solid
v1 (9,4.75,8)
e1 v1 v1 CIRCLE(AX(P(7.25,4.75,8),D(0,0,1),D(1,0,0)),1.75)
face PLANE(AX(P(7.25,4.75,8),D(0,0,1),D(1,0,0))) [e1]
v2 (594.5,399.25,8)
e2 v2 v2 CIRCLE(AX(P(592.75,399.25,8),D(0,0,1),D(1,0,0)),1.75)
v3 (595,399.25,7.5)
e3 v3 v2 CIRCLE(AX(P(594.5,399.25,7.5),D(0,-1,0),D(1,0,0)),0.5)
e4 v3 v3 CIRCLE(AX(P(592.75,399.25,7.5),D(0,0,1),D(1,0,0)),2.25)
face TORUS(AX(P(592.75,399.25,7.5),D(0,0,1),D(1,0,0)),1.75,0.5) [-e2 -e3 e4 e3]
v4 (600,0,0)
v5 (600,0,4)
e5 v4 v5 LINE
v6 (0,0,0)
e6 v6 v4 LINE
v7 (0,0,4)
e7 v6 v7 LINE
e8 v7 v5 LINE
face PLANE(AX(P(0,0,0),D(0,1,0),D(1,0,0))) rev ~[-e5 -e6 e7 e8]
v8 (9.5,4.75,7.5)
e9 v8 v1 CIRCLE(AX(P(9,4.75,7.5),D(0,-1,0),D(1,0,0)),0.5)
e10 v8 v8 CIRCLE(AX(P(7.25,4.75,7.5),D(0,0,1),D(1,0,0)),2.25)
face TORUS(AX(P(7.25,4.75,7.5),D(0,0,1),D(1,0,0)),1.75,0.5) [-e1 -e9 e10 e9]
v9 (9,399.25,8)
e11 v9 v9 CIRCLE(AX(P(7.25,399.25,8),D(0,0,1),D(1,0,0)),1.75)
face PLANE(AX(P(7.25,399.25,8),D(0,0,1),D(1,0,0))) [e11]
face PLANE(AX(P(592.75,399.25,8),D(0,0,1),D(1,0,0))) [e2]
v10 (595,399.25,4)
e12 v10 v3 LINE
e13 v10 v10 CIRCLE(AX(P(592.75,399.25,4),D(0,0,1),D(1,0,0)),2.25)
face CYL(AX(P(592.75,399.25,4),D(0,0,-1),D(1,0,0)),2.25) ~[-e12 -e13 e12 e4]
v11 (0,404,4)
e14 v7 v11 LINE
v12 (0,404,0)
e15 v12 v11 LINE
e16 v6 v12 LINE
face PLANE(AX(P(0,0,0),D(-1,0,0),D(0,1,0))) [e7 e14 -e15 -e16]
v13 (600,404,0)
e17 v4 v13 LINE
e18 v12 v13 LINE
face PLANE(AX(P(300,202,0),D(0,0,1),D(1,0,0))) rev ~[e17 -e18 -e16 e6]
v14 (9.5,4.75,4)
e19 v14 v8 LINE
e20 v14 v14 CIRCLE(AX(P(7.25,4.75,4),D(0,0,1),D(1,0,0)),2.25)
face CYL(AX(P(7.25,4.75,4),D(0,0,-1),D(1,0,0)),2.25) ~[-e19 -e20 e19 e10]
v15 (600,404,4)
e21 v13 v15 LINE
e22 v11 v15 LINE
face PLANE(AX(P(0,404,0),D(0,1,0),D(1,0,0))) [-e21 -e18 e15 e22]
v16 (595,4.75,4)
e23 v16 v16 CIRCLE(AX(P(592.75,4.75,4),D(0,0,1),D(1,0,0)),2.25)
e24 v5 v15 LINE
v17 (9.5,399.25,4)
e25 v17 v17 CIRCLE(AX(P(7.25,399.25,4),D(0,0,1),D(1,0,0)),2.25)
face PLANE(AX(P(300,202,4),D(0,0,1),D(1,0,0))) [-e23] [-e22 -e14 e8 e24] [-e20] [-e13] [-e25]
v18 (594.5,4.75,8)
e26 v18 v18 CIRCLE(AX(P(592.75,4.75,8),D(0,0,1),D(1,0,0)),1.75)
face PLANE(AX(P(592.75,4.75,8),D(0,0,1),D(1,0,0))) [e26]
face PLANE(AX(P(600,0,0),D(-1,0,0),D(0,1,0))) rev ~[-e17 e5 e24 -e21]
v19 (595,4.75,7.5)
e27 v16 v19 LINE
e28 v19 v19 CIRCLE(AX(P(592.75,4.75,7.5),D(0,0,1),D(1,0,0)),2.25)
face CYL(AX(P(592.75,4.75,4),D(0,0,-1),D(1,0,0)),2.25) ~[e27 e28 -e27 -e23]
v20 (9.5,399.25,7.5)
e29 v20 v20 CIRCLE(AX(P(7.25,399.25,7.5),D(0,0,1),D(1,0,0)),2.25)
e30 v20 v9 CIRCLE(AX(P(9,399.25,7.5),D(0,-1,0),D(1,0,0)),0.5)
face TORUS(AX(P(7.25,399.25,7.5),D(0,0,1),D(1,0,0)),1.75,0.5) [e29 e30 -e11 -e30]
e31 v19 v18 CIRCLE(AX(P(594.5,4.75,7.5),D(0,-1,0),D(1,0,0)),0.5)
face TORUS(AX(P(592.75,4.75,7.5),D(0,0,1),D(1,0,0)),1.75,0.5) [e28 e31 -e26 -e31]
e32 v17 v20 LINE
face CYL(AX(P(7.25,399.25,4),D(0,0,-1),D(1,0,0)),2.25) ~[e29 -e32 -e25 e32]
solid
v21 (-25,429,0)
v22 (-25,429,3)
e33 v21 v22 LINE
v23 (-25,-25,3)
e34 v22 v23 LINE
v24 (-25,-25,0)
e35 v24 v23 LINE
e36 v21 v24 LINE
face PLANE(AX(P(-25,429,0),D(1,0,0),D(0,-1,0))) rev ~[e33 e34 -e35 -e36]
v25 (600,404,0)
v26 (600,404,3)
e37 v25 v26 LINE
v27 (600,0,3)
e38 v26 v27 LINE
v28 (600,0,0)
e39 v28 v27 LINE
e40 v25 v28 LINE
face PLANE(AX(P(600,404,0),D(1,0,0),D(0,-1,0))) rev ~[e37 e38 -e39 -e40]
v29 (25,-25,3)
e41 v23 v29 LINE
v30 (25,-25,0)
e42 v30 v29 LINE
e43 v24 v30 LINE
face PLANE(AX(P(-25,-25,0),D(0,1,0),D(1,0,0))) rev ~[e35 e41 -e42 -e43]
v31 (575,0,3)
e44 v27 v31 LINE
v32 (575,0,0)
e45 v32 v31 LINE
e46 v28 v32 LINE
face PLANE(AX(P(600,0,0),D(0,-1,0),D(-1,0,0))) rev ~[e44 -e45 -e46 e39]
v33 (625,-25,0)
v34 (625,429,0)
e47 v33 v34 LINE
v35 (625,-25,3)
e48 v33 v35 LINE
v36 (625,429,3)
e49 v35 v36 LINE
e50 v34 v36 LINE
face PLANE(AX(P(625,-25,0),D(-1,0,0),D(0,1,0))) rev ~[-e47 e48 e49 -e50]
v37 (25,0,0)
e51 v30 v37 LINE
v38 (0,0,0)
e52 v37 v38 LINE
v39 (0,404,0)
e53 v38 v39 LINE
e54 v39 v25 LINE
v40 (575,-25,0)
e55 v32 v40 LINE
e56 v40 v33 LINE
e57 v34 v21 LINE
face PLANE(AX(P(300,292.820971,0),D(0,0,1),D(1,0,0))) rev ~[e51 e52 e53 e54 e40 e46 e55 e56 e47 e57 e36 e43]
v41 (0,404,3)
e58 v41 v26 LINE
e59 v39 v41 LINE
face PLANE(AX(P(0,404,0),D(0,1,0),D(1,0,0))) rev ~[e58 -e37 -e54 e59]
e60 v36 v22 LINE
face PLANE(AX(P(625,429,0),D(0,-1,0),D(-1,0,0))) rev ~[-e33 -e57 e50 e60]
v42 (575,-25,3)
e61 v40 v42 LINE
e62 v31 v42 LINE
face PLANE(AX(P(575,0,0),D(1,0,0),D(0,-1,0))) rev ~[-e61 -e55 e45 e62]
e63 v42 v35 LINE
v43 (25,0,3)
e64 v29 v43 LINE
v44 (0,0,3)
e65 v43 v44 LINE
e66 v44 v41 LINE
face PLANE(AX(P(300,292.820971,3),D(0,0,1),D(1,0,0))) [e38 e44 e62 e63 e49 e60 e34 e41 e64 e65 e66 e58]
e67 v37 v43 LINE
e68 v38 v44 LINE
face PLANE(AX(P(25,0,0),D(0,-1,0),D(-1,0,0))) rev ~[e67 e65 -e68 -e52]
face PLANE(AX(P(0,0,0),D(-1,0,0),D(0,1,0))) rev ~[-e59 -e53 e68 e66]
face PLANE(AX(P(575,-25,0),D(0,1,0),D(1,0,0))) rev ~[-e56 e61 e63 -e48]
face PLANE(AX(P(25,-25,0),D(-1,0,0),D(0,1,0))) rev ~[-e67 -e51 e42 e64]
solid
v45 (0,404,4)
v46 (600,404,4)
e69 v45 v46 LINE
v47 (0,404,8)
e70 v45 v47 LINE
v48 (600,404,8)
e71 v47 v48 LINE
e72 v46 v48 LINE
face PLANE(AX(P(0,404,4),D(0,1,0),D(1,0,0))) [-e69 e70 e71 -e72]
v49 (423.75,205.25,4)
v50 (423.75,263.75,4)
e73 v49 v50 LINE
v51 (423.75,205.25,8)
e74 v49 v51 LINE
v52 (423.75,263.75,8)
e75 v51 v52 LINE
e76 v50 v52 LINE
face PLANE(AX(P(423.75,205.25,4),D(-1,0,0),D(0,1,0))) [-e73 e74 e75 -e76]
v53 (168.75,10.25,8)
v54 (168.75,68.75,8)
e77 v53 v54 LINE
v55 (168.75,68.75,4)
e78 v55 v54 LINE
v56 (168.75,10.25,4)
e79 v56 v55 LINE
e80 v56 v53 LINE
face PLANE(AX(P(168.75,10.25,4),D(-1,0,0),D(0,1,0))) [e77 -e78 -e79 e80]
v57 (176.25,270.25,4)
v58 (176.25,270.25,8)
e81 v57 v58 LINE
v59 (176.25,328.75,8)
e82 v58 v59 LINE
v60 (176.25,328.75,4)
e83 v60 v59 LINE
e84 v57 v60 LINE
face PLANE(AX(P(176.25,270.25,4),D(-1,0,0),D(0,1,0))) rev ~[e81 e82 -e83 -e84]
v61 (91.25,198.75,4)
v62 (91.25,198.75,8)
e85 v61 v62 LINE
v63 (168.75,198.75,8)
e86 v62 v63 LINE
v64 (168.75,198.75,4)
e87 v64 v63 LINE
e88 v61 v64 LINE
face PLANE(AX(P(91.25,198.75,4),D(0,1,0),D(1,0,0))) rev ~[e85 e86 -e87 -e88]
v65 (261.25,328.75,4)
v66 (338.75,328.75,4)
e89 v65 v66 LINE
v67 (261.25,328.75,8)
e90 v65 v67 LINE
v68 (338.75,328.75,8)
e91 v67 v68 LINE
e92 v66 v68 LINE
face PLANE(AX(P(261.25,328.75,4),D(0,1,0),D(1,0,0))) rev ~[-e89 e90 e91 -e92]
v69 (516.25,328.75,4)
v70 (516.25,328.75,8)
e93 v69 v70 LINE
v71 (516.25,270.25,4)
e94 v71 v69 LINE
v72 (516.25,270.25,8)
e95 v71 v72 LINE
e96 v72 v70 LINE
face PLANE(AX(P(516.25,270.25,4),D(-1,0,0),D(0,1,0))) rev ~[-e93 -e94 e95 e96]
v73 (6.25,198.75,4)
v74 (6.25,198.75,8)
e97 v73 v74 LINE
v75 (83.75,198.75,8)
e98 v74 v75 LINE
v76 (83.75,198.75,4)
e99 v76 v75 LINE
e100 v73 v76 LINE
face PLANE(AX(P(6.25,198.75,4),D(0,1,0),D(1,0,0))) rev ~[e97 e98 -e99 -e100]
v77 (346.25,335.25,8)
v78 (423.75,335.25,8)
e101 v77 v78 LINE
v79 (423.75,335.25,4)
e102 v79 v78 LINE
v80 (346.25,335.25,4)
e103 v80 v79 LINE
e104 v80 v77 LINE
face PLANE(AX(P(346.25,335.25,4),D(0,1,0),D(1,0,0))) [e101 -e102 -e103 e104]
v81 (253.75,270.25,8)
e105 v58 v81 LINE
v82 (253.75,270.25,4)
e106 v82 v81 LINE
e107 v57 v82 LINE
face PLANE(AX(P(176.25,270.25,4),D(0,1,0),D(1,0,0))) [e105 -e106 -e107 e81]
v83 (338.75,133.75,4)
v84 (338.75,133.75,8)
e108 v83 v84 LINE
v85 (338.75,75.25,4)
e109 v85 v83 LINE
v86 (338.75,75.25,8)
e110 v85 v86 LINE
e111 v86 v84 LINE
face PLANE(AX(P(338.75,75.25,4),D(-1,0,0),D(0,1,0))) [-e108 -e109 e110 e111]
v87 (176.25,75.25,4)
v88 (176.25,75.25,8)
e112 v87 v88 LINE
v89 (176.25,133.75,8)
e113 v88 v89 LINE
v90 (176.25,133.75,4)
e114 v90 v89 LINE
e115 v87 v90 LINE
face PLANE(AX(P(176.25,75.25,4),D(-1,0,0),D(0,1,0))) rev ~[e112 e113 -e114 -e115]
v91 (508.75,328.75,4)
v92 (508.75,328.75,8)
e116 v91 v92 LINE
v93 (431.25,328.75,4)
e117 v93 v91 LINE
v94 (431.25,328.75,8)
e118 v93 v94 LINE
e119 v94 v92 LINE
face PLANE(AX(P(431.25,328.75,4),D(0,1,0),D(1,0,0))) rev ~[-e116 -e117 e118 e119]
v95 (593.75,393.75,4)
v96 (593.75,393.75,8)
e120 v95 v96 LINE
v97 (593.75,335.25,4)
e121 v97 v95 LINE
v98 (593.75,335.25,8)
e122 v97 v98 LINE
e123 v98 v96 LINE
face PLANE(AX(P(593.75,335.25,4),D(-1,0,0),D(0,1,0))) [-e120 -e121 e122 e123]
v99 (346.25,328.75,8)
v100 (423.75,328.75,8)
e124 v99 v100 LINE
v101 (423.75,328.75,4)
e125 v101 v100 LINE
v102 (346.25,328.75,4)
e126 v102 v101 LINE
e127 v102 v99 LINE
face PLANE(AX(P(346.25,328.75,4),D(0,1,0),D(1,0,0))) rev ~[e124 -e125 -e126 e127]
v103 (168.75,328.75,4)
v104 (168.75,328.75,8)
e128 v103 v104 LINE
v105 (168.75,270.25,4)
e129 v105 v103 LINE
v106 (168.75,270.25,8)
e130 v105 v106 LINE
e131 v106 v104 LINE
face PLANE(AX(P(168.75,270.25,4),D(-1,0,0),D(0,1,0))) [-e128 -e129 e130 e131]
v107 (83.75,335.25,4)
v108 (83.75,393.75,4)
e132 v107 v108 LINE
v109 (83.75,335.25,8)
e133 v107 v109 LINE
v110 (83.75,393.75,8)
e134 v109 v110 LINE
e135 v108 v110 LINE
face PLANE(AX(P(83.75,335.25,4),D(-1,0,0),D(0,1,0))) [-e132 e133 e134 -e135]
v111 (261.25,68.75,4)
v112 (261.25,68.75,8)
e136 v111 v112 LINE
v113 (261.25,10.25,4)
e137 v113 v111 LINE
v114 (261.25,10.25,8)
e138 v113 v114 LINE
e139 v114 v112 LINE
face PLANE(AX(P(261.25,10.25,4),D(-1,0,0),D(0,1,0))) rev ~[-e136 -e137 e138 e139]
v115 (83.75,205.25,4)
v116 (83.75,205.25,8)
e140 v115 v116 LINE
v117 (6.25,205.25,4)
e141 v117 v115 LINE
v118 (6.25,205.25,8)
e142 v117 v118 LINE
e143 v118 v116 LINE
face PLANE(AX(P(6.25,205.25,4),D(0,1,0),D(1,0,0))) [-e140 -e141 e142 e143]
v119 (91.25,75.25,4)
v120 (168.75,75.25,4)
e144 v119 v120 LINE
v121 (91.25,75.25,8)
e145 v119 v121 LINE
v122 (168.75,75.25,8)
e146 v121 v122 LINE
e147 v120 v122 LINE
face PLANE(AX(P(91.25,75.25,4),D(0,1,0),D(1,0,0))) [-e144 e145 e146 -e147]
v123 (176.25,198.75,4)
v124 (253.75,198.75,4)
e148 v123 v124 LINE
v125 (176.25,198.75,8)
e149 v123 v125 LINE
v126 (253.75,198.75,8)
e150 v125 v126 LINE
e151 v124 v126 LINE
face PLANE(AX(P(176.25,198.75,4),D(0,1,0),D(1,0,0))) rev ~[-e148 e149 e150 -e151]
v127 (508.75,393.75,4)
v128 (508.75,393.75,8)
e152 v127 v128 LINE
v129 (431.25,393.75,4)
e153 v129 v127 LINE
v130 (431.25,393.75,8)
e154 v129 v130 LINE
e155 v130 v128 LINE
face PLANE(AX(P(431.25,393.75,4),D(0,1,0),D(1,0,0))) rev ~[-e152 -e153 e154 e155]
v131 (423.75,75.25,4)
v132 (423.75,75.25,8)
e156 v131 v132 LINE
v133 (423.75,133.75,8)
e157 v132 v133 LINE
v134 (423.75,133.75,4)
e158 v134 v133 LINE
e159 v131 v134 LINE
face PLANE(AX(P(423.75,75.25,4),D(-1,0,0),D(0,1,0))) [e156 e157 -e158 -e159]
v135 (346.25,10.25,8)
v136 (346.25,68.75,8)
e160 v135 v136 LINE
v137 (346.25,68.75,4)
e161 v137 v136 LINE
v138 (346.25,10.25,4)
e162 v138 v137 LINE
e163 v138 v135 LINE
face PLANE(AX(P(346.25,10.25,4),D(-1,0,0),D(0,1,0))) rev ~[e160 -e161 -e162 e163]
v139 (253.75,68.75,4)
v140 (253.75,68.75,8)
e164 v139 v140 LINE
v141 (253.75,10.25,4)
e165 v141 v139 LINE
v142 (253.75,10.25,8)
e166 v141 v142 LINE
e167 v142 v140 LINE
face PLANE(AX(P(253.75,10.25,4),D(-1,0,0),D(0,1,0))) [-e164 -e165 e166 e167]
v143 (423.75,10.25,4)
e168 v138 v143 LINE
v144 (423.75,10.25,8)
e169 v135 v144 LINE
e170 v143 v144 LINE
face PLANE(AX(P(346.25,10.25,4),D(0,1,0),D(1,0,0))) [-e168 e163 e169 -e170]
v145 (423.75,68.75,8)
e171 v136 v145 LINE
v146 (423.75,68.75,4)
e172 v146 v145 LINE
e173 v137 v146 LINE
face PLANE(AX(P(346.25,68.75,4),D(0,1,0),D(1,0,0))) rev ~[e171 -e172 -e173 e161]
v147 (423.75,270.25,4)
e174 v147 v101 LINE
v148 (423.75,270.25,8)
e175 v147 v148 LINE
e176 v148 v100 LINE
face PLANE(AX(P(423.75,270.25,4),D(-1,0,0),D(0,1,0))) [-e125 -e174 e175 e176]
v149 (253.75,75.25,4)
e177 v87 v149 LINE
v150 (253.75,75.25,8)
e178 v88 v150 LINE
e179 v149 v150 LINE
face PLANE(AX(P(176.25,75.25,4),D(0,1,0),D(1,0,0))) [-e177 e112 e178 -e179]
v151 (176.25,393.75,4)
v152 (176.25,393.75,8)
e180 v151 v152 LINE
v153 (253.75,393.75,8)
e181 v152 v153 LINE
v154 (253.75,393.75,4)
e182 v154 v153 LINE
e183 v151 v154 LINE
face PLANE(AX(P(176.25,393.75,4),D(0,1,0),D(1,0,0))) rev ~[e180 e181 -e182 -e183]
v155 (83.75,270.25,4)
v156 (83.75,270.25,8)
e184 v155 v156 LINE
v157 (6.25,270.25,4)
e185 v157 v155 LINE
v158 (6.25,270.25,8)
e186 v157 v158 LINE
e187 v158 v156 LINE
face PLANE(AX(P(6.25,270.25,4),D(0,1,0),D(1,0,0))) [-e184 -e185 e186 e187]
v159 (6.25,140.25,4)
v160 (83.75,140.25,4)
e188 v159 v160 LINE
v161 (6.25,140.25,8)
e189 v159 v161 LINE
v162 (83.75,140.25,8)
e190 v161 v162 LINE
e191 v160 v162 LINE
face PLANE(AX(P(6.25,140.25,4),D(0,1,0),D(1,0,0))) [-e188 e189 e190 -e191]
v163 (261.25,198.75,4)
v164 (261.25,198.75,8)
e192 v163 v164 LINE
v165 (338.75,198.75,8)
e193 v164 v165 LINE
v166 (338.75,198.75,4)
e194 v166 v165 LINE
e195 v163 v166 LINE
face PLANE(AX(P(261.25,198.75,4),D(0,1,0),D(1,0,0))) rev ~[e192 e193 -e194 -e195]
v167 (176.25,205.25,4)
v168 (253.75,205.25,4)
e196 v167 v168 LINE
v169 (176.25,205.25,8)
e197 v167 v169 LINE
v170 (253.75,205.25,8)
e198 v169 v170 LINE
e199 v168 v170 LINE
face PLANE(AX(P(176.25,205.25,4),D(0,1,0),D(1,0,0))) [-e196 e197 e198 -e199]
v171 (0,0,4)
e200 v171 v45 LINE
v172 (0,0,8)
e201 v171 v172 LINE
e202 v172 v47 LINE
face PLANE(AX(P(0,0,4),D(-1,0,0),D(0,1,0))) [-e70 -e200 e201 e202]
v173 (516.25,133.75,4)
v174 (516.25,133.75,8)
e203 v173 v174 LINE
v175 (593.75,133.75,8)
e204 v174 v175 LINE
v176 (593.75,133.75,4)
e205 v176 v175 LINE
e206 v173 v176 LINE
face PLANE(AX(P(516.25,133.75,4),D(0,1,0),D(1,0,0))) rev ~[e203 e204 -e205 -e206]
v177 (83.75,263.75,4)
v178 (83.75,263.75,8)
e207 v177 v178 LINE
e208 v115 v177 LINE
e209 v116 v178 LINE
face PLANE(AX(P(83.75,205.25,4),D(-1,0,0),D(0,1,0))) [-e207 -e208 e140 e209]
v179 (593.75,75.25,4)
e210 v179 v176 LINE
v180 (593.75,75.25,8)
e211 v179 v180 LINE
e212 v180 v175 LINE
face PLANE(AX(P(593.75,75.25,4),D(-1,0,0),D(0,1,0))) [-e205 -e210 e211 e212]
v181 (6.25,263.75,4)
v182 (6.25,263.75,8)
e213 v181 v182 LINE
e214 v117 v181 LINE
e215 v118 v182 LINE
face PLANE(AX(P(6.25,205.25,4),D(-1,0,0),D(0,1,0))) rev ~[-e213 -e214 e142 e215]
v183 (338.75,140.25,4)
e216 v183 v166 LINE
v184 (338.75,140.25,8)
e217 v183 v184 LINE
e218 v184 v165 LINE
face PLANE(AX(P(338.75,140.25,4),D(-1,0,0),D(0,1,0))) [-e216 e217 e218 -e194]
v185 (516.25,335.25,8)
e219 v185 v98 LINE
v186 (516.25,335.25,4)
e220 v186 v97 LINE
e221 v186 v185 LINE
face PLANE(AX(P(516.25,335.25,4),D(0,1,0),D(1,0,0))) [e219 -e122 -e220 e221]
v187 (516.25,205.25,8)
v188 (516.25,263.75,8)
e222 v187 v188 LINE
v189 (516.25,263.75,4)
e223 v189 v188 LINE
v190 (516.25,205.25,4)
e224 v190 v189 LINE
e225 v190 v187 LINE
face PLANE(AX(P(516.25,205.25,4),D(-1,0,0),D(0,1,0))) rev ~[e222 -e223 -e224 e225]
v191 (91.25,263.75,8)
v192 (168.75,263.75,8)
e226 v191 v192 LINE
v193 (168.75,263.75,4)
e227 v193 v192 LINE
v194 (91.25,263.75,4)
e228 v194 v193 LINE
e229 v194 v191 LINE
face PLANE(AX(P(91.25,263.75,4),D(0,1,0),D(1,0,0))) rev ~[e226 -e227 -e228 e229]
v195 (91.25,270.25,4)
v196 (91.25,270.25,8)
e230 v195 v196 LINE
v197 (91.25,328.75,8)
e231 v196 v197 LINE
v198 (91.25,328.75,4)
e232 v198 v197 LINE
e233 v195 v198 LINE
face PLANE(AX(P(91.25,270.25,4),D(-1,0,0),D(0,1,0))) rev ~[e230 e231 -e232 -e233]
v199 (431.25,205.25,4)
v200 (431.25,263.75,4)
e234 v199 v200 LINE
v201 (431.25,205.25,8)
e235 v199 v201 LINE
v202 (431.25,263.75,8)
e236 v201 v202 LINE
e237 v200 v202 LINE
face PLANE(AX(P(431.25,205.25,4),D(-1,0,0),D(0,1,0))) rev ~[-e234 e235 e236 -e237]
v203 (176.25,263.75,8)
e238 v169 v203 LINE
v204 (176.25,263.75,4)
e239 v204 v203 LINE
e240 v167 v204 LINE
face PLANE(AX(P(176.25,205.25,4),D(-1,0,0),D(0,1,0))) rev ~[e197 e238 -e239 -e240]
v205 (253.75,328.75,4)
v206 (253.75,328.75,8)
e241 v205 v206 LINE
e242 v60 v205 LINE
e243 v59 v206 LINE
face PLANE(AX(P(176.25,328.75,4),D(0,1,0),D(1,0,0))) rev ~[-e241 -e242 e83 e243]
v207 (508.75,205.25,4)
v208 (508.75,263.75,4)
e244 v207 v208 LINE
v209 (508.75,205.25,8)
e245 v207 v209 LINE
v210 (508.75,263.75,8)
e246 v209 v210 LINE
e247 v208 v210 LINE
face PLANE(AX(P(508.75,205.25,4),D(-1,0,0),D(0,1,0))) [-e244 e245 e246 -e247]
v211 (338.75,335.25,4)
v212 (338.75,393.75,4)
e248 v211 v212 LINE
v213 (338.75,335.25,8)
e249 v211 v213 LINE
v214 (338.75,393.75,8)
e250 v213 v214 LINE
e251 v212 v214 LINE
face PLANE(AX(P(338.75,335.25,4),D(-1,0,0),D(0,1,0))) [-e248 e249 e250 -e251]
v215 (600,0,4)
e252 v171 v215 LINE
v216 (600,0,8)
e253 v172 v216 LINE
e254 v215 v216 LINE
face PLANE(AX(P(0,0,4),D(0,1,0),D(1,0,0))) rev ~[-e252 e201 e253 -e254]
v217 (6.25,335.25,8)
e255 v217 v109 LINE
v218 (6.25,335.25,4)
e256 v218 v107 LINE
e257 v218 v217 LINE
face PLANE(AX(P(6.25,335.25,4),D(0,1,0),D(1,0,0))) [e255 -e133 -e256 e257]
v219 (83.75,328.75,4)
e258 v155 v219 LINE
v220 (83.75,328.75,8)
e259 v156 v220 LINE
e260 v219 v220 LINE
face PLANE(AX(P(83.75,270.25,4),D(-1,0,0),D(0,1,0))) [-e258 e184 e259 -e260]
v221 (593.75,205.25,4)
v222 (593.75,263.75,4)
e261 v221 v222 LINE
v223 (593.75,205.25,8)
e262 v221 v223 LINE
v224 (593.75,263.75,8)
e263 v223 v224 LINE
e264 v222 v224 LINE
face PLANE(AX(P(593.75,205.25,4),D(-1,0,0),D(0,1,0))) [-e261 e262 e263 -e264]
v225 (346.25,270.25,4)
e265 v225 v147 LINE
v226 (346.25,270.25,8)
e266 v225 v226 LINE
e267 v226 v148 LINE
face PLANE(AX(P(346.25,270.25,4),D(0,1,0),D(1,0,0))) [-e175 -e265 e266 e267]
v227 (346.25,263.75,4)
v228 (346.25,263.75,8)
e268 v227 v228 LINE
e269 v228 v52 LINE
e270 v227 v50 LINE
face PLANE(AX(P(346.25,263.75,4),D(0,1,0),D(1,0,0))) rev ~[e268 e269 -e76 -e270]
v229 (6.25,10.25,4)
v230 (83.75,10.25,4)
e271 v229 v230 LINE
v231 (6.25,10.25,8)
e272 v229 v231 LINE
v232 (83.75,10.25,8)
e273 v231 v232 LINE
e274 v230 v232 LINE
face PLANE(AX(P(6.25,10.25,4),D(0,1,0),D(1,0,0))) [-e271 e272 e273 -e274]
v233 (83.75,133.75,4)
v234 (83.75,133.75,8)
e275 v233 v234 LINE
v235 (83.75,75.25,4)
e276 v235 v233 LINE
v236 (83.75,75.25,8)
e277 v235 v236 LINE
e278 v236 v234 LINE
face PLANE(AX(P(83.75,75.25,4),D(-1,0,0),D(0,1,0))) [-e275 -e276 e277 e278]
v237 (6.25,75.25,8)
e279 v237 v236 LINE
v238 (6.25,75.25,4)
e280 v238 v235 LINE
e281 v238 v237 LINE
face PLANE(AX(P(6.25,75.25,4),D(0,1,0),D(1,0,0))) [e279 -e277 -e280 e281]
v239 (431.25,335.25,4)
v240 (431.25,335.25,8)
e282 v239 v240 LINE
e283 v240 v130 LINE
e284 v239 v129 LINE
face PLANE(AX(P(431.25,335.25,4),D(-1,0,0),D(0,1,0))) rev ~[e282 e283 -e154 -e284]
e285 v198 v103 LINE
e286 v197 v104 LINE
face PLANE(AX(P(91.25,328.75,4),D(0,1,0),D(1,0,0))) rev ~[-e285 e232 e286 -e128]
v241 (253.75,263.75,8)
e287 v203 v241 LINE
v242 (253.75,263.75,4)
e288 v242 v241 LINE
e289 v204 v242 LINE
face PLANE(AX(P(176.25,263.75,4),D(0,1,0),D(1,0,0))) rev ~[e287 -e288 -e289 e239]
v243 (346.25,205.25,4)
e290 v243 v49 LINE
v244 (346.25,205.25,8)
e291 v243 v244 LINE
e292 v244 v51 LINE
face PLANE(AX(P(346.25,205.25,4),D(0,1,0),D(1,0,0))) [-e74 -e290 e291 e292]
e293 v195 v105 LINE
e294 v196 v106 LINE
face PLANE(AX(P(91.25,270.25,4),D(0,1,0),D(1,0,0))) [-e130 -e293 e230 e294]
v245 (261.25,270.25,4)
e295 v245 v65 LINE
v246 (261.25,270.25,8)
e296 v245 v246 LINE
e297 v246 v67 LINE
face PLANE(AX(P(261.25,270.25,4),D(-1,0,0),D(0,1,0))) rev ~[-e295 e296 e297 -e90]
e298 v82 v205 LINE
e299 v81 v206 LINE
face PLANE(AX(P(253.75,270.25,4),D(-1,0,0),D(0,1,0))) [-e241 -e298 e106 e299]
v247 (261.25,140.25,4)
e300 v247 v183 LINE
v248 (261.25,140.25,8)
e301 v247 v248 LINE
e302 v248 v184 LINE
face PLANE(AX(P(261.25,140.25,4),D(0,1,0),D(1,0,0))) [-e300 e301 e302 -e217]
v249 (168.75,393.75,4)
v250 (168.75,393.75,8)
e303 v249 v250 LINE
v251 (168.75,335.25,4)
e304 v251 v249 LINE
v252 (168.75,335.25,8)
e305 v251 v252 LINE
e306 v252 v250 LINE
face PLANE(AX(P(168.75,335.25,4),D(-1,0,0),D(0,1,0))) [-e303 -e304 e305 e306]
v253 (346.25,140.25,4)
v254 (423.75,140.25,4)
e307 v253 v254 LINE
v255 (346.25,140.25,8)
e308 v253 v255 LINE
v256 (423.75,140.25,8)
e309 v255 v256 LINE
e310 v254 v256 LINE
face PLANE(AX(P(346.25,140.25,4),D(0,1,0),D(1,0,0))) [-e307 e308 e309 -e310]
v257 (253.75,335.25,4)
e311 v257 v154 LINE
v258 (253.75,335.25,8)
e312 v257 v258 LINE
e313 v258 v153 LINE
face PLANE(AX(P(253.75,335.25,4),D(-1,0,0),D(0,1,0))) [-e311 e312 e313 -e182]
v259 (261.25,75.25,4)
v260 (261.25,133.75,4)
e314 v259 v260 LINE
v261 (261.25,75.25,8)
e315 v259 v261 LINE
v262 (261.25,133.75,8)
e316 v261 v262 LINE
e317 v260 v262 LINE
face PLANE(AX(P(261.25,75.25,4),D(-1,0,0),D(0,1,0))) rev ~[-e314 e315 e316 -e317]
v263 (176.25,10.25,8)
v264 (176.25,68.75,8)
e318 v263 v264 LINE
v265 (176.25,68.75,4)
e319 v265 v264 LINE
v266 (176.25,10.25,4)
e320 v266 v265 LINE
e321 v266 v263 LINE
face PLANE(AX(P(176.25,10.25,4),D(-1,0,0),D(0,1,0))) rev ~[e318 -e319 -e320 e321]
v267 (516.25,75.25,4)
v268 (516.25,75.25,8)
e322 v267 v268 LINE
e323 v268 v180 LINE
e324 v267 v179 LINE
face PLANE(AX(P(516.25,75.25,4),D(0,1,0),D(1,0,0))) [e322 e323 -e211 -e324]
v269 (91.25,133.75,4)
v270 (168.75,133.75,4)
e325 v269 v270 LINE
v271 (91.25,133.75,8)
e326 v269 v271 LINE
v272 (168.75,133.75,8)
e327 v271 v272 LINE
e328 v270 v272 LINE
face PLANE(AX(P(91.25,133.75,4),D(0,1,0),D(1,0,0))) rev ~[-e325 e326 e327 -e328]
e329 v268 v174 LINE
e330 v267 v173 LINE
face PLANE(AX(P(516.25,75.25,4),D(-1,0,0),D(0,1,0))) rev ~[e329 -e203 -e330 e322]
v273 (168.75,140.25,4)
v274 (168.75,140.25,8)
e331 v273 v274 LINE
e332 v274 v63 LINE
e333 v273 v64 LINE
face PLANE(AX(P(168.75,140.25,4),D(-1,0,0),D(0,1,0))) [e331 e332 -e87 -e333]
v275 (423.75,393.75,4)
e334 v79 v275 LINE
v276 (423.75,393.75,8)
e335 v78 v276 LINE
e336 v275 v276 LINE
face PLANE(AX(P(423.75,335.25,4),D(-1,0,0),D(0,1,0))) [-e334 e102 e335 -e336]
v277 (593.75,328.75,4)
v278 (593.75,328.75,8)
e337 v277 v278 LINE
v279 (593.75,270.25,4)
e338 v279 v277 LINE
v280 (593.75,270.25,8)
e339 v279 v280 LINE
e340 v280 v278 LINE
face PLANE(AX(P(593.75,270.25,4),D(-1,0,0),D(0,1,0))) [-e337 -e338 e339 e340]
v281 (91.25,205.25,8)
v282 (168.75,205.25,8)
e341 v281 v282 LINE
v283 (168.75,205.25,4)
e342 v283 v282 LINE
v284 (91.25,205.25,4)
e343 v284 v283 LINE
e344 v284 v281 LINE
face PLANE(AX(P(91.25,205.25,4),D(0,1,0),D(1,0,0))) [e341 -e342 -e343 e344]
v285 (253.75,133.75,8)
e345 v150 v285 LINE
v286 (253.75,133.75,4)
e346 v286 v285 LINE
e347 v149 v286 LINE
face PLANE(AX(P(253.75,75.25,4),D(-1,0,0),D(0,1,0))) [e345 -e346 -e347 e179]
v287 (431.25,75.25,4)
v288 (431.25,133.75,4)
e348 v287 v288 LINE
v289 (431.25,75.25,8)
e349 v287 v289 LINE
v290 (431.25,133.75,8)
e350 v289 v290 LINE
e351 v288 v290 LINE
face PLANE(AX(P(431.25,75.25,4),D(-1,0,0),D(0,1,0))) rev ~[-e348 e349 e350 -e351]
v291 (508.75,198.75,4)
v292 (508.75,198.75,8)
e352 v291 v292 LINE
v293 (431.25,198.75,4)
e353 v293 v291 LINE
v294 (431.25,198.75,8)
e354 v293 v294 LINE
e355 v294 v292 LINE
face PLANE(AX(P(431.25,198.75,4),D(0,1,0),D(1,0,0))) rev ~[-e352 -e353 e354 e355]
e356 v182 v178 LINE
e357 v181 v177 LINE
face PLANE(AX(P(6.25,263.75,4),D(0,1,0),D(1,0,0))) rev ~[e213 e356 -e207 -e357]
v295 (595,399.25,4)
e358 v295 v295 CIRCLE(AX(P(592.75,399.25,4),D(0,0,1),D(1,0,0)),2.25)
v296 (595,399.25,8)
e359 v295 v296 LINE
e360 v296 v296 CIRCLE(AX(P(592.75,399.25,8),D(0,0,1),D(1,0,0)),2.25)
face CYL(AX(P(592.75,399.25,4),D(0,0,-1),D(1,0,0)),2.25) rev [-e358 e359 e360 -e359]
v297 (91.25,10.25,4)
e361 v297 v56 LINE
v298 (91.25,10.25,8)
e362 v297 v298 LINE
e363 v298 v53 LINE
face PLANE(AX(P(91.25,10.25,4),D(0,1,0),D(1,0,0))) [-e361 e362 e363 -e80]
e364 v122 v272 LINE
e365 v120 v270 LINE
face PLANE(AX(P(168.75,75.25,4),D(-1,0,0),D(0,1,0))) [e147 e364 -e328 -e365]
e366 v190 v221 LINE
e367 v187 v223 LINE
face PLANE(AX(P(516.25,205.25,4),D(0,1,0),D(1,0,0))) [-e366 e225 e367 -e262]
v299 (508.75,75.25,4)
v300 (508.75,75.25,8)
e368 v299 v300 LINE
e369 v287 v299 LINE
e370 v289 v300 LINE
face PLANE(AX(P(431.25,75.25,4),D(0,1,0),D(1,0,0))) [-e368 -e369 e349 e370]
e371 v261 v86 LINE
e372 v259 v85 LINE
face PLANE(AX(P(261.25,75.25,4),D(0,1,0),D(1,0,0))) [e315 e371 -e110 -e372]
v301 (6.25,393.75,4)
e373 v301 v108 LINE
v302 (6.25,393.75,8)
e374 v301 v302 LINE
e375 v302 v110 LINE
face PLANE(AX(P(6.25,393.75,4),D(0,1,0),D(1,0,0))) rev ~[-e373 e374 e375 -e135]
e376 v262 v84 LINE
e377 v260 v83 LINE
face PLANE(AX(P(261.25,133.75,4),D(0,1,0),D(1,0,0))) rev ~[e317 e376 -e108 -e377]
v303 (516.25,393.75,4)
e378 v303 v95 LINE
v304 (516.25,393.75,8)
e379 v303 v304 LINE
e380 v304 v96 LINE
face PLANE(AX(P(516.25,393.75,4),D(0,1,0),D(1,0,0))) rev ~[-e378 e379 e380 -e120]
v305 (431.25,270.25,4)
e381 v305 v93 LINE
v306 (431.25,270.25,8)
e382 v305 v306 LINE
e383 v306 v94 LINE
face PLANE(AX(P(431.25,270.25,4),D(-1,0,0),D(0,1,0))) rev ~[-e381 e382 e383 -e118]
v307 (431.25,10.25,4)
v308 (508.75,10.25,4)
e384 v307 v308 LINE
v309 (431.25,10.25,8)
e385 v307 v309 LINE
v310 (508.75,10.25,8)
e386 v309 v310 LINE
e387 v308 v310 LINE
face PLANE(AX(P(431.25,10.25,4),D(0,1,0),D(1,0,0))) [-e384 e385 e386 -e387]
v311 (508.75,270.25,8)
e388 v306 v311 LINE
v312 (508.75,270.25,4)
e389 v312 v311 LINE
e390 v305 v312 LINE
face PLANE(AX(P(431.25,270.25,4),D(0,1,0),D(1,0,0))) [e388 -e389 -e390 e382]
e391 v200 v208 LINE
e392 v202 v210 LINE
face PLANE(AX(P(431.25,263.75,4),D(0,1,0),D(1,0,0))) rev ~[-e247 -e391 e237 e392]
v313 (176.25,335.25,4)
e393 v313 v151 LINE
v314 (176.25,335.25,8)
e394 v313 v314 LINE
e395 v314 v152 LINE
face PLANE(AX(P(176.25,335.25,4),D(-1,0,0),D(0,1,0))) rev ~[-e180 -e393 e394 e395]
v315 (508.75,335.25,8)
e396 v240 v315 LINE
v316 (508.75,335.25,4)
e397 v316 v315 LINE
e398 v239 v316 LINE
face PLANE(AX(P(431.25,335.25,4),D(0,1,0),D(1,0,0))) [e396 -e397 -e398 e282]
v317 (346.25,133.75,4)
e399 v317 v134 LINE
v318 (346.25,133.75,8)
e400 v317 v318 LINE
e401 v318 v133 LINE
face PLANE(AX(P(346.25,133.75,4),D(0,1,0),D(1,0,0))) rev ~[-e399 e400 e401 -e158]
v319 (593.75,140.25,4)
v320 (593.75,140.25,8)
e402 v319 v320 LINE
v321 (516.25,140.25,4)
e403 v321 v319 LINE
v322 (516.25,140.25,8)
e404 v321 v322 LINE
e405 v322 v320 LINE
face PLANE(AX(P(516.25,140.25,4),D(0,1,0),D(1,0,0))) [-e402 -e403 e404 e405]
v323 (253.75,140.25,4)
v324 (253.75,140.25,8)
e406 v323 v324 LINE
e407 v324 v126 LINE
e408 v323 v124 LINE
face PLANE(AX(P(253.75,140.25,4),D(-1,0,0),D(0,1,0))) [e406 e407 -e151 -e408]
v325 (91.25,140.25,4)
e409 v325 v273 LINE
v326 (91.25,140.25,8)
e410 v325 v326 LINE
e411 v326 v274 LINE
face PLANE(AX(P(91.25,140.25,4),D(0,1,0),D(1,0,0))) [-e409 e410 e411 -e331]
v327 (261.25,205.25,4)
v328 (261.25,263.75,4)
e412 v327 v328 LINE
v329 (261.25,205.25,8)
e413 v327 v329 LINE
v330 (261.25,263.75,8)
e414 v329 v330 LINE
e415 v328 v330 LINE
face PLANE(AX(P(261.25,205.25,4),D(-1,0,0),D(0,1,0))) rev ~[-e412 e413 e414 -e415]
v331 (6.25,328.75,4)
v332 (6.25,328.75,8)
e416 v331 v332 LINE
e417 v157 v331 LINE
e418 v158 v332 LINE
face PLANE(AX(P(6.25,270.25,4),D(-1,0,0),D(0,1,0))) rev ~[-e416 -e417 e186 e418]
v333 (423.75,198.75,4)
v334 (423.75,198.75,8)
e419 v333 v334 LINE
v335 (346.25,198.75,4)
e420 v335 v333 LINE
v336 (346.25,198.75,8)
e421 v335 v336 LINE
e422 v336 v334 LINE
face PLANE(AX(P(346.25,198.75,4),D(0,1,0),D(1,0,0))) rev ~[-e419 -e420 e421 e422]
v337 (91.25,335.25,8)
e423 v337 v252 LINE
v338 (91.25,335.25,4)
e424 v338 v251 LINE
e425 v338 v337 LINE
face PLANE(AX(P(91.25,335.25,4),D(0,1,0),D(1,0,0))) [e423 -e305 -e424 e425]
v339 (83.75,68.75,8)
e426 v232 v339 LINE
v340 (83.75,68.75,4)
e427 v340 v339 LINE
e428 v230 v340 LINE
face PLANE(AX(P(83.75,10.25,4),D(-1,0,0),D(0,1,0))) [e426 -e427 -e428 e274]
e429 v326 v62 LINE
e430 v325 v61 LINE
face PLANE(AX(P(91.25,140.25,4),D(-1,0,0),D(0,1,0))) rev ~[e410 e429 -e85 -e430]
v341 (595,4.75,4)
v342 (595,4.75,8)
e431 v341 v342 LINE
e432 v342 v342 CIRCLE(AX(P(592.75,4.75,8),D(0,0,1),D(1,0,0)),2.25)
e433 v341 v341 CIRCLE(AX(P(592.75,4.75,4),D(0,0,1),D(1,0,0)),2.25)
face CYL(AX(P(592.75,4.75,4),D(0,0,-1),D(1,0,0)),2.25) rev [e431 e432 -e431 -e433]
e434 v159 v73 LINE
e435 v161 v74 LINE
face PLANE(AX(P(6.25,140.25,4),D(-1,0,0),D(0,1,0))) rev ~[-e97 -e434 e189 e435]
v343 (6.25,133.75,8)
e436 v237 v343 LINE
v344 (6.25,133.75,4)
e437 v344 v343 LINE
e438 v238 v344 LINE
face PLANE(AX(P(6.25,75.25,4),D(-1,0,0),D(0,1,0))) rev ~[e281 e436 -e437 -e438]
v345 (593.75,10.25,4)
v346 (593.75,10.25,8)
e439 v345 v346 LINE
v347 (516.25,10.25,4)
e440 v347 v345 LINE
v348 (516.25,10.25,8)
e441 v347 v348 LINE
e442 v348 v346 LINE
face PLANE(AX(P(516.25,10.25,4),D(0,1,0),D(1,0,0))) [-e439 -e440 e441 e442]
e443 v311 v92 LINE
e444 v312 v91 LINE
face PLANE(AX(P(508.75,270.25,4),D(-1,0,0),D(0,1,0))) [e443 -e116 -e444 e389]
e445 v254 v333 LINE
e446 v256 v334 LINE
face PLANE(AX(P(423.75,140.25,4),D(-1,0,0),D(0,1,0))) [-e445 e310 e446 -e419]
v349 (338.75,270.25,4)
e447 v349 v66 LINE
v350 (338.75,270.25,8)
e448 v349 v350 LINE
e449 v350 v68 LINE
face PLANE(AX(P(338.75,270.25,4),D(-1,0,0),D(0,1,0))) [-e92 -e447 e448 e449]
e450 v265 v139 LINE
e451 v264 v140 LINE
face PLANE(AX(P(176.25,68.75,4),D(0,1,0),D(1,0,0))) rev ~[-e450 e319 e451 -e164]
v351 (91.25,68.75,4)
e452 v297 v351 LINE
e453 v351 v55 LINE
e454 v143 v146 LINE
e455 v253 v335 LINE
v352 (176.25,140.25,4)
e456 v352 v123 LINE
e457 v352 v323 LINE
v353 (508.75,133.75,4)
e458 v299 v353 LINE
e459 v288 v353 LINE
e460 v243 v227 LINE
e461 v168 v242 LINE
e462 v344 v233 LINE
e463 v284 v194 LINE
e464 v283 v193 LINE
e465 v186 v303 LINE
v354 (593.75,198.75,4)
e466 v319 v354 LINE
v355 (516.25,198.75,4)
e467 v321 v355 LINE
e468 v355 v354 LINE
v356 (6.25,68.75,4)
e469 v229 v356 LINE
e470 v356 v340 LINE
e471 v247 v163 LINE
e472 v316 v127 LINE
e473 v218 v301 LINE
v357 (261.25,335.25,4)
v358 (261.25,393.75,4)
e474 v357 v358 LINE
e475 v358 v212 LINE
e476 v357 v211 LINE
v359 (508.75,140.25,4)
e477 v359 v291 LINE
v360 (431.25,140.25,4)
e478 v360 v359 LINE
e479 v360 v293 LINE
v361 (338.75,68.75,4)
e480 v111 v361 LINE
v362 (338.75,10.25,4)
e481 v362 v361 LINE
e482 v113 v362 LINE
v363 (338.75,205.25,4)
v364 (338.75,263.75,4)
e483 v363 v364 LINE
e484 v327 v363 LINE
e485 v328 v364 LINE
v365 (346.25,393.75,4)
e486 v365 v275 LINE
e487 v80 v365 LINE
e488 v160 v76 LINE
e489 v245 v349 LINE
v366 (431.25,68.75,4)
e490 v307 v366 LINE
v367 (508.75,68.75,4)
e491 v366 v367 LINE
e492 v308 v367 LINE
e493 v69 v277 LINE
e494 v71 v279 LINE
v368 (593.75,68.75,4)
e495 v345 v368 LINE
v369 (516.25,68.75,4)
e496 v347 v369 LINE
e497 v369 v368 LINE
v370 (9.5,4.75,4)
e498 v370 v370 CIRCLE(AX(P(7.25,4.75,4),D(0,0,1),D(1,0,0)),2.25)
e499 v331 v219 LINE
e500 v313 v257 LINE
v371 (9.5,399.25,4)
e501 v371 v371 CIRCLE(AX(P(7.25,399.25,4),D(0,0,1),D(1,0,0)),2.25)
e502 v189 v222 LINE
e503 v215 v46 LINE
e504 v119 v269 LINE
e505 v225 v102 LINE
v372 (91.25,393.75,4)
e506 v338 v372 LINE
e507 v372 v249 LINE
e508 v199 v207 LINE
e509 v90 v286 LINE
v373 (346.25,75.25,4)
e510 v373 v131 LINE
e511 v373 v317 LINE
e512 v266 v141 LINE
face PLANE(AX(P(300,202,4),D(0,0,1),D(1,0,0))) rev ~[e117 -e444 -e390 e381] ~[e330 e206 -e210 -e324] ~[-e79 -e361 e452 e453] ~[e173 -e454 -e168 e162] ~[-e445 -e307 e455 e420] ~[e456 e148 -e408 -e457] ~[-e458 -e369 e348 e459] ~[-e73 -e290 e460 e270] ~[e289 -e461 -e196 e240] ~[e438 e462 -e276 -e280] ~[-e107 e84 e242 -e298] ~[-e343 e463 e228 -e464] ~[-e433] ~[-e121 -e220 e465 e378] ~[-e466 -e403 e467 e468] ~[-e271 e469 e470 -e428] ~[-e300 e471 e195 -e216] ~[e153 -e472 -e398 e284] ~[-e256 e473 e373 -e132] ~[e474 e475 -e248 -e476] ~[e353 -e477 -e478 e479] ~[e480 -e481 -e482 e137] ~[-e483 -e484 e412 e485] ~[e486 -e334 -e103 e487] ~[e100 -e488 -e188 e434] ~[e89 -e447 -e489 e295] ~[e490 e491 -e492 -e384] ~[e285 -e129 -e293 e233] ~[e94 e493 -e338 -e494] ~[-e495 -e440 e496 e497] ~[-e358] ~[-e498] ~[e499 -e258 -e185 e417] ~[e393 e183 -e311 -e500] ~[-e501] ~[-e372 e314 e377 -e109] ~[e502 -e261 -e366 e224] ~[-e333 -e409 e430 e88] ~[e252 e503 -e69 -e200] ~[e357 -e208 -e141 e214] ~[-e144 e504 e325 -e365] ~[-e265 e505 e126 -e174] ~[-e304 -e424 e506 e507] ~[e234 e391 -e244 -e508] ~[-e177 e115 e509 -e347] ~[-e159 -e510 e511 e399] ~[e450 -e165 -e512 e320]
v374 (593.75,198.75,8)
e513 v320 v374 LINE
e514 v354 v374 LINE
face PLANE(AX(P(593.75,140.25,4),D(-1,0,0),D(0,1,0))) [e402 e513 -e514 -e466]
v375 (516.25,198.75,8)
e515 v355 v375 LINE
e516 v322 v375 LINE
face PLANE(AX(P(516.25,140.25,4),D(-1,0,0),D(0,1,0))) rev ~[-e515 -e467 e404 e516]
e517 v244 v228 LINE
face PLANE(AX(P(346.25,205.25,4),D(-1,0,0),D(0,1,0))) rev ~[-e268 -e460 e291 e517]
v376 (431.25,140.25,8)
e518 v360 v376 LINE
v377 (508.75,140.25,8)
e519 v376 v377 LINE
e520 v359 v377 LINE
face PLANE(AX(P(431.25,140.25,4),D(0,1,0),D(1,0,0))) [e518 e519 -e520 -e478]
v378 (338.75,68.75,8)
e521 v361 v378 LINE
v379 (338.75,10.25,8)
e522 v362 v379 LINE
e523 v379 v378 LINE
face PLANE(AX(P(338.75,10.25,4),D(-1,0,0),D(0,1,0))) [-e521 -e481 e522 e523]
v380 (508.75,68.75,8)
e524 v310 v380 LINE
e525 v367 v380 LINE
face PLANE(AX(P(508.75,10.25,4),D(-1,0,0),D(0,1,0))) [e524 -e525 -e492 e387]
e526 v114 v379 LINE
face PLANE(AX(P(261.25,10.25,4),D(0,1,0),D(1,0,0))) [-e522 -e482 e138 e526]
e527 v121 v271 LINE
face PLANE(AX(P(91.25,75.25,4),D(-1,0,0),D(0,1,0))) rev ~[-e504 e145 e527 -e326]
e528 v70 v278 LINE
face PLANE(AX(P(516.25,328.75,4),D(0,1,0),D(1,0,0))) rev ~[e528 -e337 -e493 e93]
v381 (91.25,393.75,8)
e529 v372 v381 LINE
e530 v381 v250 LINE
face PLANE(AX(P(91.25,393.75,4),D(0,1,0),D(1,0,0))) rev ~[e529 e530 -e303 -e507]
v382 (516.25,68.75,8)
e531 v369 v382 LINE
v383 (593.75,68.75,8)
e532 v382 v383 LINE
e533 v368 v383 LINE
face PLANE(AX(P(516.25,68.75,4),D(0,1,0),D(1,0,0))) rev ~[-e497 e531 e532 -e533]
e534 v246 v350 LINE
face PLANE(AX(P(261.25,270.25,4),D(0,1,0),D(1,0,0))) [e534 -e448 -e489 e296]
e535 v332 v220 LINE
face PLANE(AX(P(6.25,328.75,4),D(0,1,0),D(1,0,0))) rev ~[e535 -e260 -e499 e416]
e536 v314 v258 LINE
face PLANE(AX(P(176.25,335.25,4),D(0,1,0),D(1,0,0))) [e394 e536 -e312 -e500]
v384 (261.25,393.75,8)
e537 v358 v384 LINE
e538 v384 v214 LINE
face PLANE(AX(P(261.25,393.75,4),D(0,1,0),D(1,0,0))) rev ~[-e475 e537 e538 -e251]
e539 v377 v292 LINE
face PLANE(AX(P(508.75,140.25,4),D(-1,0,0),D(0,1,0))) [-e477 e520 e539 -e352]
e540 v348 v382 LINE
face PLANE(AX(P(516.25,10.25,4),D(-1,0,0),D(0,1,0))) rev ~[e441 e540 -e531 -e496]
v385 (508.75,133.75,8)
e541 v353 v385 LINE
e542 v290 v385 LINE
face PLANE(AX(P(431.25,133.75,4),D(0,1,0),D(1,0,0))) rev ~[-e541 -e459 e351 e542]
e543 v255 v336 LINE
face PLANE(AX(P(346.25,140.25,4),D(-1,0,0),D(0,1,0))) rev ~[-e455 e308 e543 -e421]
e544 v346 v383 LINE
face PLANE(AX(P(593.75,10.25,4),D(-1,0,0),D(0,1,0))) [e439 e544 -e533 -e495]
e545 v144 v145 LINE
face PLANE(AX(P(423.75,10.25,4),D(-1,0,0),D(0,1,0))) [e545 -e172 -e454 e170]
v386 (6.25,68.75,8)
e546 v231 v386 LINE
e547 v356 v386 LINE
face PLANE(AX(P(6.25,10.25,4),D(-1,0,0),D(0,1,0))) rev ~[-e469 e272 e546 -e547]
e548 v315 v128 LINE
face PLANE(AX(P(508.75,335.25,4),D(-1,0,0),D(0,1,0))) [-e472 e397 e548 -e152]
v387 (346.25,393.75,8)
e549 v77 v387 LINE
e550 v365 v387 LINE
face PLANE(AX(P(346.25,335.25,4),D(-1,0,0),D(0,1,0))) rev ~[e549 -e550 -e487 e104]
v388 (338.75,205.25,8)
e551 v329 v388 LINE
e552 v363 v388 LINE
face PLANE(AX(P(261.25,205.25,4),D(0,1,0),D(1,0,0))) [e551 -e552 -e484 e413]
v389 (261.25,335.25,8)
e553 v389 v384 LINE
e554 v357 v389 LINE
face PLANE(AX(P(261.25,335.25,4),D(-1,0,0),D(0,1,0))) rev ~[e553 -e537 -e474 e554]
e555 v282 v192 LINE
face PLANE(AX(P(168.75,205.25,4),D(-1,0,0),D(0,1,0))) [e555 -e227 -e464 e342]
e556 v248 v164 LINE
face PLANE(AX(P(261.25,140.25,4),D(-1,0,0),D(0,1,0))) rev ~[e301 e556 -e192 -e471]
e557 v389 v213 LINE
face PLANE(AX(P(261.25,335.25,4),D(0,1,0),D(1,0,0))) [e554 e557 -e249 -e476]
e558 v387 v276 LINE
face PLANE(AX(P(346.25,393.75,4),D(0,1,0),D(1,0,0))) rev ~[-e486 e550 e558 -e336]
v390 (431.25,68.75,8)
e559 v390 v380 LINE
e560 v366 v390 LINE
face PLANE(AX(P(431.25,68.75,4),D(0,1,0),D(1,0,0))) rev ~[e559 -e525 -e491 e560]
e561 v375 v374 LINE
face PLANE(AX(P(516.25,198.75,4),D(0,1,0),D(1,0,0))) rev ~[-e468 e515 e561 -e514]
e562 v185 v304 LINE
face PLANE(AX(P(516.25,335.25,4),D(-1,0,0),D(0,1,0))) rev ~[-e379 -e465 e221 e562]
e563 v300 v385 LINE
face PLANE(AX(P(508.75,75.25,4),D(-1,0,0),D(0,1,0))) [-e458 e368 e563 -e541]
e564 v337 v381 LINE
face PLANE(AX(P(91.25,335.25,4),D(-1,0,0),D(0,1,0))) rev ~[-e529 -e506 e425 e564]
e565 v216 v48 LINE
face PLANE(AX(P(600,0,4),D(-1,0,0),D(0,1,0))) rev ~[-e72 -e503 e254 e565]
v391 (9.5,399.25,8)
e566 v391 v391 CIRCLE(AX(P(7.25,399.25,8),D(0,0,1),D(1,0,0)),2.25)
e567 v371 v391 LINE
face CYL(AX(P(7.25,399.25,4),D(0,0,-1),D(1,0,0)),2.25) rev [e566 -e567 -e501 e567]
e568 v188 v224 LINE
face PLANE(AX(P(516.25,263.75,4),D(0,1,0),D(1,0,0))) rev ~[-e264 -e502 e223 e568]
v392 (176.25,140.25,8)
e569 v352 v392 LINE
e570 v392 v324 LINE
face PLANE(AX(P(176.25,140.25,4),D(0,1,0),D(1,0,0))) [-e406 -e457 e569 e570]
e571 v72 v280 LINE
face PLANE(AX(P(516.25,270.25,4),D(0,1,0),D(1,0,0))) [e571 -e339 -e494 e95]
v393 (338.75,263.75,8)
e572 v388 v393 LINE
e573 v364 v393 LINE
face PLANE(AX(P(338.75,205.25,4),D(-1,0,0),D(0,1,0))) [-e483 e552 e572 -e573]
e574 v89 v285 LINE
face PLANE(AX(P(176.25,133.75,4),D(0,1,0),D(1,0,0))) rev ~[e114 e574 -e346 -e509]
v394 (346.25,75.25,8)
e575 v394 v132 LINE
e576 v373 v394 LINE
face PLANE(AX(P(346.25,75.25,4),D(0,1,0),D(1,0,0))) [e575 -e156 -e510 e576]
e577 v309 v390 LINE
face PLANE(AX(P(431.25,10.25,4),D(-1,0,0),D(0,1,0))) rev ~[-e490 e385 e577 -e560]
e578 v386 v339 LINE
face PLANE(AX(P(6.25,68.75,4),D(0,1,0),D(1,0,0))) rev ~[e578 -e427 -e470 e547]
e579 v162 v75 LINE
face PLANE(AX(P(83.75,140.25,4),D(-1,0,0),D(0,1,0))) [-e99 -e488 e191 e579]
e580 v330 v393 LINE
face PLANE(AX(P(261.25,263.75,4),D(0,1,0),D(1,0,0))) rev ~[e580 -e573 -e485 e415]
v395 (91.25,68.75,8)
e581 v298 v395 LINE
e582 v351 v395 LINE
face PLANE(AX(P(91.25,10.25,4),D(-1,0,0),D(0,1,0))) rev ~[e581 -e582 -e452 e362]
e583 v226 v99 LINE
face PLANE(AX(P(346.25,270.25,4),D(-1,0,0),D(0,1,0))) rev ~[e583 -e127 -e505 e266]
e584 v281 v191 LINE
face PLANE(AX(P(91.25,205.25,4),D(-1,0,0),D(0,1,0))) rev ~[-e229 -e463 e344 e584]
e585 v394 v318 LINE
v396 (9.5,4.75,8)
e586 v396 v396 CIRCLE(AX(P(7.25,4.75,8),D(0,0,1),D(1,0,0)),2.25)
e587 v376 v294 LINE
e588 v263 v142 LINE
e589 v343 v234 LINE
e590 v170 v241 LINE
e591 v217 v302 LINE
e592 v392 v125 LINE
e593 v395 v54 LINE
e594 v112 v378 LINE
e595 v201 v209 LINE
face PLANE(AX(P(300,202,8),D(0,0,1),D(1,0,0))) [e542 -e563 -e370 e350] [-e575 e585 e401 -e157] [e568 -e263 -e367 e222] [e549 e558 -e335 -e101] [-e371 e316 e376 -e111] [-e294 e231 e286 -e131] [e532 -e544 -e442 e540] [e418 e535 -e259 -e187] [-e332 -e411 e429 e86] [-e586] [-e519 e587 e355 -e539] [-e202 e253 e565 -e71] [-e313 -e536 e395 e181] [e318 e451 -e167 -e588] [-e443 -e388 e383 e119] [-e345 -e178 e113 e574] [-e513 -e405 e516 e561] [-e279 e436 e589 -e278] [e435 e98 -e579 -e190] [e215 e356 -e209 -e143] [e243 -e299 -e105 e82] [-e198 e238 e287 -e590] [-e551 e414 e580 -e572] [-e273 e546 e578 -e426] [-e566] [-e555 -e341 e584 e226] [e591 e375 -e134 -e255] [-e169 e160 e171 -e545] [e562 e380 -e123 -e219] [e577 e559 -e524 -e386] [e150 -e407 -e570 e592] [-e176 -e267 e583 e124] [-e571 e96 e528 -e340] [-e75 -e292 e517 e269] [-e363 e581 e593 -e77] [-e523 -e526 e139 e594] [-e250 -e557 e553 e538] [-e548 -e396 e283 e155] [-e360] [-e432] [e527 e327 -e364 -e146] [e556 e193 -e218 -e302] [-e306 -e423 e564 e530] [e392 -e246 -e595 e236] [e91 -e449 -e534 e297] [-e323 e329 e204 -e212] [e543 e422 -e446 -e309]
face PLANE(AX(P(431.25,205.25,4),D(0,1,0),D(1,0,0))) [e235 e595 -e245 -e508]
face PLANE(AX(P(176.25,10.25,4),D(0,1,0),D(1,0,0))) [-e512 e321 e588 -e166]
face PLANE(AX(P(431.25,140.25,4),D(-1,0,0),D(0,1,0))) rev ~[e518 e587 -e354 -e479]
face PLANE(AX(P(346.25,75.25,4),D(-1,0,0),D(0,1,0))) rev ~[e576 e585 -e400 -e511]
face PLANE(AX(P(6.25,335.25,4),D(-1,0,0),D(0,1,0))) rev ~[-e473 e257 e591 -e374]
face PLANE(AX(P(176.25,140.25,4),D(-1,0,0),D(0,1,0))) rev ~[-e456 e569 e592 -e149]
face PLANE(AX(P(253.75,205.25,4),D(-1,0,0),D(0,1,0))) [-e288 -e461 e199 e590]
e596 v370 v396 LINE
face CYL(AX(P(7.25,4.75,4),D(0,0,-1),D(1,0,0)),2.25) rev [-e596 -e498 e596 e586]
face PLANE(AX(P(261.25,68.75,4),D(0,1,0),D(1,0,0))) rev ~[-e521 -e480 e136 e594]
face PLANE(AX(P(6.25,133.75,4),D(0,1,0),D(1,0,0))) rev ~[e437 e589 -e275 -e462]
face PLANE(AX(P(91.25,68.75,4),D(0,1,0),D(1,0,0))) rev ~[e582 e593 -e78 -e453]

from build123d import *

# Parameters (mm, degrees)
F0_W     = 600
F0_H     = 404
F1_DEPTH = 4
F2_R     = 2.25
F3_DEPTH = 4
F4_R     = 0.5
F5_W     = 600
F5_H     = 404
F5_R     = 2.25
F5_W_2   = 77.5
F5_H_2   = 58.5
F6_DEPTH = 4
F8_DEPTH = 3


with BuildPart() as f1:
    # F0 (on Top) → F1 (new body)
    with BuildSketch(Plane.XY):
        with Locations((300, 202)):
            Rectangle(F0_W, F0_H)
    extrude(amount=F1_DEPTH)

    # F2 (on face) → F3 (join)
    with BuildSketch(Plane.XY.offset(4)):
        with Locations((7.25, 4.75)):
            Circle(F2_R)
        with Locations((7.25, 399.25)):
            Circle(F2_R)
        with Locations((592.75, 399.25)):
            Circle(F2_R)
        with Locations((592.75, 4.75)):
            Circle(F2_R)
    extrude(amount=F3_DEPTH)

    # F4
    f4_edges = [f1.edges().sort_by_distance(p)[0] for p in [
        (5, 399.25, 8),
        (5, 4.75, 8),
        (590.5, 4.75, 8),
        (590.5, 399.25, 8),
    ]]
    fillet(f4_edges, radius=F4_R)


with BuildPart() as f6:
    # F5 (on face) → F6 (new body)
    with BuildSketch(Plane.XY.offset(4)):
        with Locations((300, 202)):
            Rectangle(F5_W, F5_H)
        with Locations((7.25, 4.75)):
            Circle(F5_R, mode=Mode.SUBTRACT)
        with Locations((45, 39.5)):
            Rectangle(F5_W_2, F5_H_2, mode=Mode.SUBTRACT)
        with Locations((130, 39.5)):
            Rectangle(F5_W_2, F5_H_2, mode=Mode.SUBTRACT)
        with Locations((215, 39.5)):
            Rectangle(F5_W_2, F5_H_2, mode=Mode.SUBTRACT)
        with Locations((45, 104.5)):
            Rectangle(F5_W_2, F5_H_2, mode=Mode.SUBTRACT)
        with Locations((130, 104.5)):
            Rectangle(F5_W_2, F5_H_2, mode=Mode.SUBTRACT)
        with Locations((45, 169.5)):
            Rectangle(F5_W_2, F5_H_2, mode=Mode.SUBTRACT)
        with Locations((130, 169.5)):
            Rectangle(F5_W_2, F5_H_2, mode=Mode.SUBTRACT)
        with Locations((215, 104.5)):
            Rectangle(F5_W_2, F5_H_2, mode=Mode.SUBTRACT)
        with Locations((215, 169.5)):
            Rectangle(F5_W_2, F5_H_2, mode=Mode.SUBTRACT)
        with Locations((300, 39.5)):
            Rectangle(F5_W_2, F5_H_2, mode=Mode.SUBTRACT)
        with Locations((385, 39.5)):
            Rectangle(F5_W_2, F5_H_2, mode=Mode.SUBTRACT)
        with Locations((470, 39.5)):
            Rectangle(F5_W_2, F5_H_2, mode=Mode.SUBTRACT)
        with Locations((592.75, 4.75)):
            Circle(F5_R, mode=Mode.SUBTRACT)
        with Locations((555, 39.5)):
            Rectangle(F5_W_2, F5_H_2, mode=Mode.SUBTRACT)
        with Locations((300, 104.5)):
            Rectangle(F5_W_2, F5_H_2, mode=Mode.SUBTRACT)
        with Locations((385, 104.5)):
            Rectangle(F5_W_2, F5_H_2, mode=Mode.SUBTRACT)
        with Locations((300, 169.5)):
            Rectangle(F5_W_2, F5_H_2, mode=Mode.SUBTRACT)
        with Locations((385, 169.5)):
            Rectangle(F5_W_2, F5_H_2, mode=Mode.SUBTRACT)
        with Locations((470, 104.5)):
            Rectangle(F5_W_2, F5_H_2, mode=Mode.SUBTRACT)
        with Locations((555, 104.5)):
            Rectangle(F5_W_2, F5_H_2, mode=Mode.SUBTRACT)
        with Locations((470, 169.5)):
            Rectangle(F5_W_2, F5_H_2, mode=Mode.SUBTRACT)
        with Locations((555, 169.5)):
            Rectangle(F5_W_2, F5_H_2, mode=Mode.SUBTRACT)
        with Locations((45, 234.5)):
            Rectangle(F5_W_2, F5_H_2, mode=Mode.SUBTRACT)
        with Locations((130, 234.5)):
            Rectangle(F5_W_2, F5_H_2, mode=Mode.SUBTRACT)
        with Locations((45, 299.5)):
            Rectangle(F5_W_2, F5_H_2, mode=Mode.SUBTRACT)
        with Locations((130, 299.5)):
            Rectangle(F5_W_2, F5_H_2, mode=Mode.SUBTRACT)
        with Locations((215, 234.5)):
            Rectangle(F5_W_2, F5_H_2, mode=Mode.SUBTRACT)
        with Locations((215, 299.5)):
            Rectangle(F5_W_2, F5_H_2, mode=Mode.SUBTRACT)
        with Locations((45, 364.5)):
            Rectangle(F5_W_2, F5_H_2, mode=Mode.SUBTRACT)
        with Locations((7.25, 399.25)):
            Circle(F5_R, mode=Mode.SUBTRACT)
        with Locations((130, 364.5)):
            Rectangle(F5_W_2, F5_H_2, mode=Mode.SUBTRACT)
        with Locations((215, 364.5)):
            Rectangle(F5_W_2, F5_H_2, mode=Mode.SUBTRACT)
        with Locations((300, 234.5)):
            Rectangle(F5_W_2, F5_H_2, mode=Mode.SUBTRACT)
        with Locations((385, 234.5)):
            Rectangle(F5_W_2, F5_H_2, mode=Mode.SUBTRACT)
        with Locations((300, 299.5)):
            Rectangle(F5_W_2, F5_H_2, mode=Mode.SUBTRACT)
        with Locations((385, 299.5)):
            Rectangle(F5_W_2, F5_H_2, mode=Mode.SUBTRACT)
        with Locations((470, 234.5)):
            Rectangle(F5_W_2, F5_H_2, mode=Mode.SUBTRACT)
        with Locations((555, 234.5)):
            Rectangle(F5_W_2, F5_H_2, mode=Mode.SUBTRACT)
        with Locations((470, 299.5)):
            Rectangle(F5_W_2, F5_H_2, mode=Mode.SUBTRACT)
        with Locations((555, 299.5)):
            Rectangle(F5_W_2, F5_H_2, mode=Mode.SUBTRACT)
        with Locations((300, 364.5)):
            Rectangle(F5_W_2, F5_H_2, mode=Mode.SUBTRACT)
        with Locations((385, 364.5)):
            Rectangle(F5_W_2, F5_H_2, mode=Mode.SUBTRACT)
        with Locations((470, 364.5)):
            Rectangle(F5_W_2, F5_H_2, mode=Mode.SUBTRACT)
        with Locations((555, 364.5)):
            Rectangle(F5_W_2, F5_H_2, mode=Mode.SUBTRACT)
        with Locations((592.75, 399.25)):
            Circle(F5_R, mode=Mode.SUBTRACT)
    extrude(amount=F6_DEPTH)


with BuildPart() as f8:
    # F7 (on Top) → F8 (new body)
    with BuildSketch(Plane.XY):
        Polygon((0, 0), (0, 404), (600, 404), (600, 0), (625, 0), (625, 429), (-25, 429), (-25, 0), align=None)
        Polygon((25, 0), (0, 0), (-25, 0), (-25, -25), (25, -25), align=None)
        Polygon((625, 0), (600, 0), (575, 0), (575, -25), (625, -25), align=None)
    extrude(amount=F8_DEPTH)


solid = Compound([f1.part, f6.part, f8.part])
